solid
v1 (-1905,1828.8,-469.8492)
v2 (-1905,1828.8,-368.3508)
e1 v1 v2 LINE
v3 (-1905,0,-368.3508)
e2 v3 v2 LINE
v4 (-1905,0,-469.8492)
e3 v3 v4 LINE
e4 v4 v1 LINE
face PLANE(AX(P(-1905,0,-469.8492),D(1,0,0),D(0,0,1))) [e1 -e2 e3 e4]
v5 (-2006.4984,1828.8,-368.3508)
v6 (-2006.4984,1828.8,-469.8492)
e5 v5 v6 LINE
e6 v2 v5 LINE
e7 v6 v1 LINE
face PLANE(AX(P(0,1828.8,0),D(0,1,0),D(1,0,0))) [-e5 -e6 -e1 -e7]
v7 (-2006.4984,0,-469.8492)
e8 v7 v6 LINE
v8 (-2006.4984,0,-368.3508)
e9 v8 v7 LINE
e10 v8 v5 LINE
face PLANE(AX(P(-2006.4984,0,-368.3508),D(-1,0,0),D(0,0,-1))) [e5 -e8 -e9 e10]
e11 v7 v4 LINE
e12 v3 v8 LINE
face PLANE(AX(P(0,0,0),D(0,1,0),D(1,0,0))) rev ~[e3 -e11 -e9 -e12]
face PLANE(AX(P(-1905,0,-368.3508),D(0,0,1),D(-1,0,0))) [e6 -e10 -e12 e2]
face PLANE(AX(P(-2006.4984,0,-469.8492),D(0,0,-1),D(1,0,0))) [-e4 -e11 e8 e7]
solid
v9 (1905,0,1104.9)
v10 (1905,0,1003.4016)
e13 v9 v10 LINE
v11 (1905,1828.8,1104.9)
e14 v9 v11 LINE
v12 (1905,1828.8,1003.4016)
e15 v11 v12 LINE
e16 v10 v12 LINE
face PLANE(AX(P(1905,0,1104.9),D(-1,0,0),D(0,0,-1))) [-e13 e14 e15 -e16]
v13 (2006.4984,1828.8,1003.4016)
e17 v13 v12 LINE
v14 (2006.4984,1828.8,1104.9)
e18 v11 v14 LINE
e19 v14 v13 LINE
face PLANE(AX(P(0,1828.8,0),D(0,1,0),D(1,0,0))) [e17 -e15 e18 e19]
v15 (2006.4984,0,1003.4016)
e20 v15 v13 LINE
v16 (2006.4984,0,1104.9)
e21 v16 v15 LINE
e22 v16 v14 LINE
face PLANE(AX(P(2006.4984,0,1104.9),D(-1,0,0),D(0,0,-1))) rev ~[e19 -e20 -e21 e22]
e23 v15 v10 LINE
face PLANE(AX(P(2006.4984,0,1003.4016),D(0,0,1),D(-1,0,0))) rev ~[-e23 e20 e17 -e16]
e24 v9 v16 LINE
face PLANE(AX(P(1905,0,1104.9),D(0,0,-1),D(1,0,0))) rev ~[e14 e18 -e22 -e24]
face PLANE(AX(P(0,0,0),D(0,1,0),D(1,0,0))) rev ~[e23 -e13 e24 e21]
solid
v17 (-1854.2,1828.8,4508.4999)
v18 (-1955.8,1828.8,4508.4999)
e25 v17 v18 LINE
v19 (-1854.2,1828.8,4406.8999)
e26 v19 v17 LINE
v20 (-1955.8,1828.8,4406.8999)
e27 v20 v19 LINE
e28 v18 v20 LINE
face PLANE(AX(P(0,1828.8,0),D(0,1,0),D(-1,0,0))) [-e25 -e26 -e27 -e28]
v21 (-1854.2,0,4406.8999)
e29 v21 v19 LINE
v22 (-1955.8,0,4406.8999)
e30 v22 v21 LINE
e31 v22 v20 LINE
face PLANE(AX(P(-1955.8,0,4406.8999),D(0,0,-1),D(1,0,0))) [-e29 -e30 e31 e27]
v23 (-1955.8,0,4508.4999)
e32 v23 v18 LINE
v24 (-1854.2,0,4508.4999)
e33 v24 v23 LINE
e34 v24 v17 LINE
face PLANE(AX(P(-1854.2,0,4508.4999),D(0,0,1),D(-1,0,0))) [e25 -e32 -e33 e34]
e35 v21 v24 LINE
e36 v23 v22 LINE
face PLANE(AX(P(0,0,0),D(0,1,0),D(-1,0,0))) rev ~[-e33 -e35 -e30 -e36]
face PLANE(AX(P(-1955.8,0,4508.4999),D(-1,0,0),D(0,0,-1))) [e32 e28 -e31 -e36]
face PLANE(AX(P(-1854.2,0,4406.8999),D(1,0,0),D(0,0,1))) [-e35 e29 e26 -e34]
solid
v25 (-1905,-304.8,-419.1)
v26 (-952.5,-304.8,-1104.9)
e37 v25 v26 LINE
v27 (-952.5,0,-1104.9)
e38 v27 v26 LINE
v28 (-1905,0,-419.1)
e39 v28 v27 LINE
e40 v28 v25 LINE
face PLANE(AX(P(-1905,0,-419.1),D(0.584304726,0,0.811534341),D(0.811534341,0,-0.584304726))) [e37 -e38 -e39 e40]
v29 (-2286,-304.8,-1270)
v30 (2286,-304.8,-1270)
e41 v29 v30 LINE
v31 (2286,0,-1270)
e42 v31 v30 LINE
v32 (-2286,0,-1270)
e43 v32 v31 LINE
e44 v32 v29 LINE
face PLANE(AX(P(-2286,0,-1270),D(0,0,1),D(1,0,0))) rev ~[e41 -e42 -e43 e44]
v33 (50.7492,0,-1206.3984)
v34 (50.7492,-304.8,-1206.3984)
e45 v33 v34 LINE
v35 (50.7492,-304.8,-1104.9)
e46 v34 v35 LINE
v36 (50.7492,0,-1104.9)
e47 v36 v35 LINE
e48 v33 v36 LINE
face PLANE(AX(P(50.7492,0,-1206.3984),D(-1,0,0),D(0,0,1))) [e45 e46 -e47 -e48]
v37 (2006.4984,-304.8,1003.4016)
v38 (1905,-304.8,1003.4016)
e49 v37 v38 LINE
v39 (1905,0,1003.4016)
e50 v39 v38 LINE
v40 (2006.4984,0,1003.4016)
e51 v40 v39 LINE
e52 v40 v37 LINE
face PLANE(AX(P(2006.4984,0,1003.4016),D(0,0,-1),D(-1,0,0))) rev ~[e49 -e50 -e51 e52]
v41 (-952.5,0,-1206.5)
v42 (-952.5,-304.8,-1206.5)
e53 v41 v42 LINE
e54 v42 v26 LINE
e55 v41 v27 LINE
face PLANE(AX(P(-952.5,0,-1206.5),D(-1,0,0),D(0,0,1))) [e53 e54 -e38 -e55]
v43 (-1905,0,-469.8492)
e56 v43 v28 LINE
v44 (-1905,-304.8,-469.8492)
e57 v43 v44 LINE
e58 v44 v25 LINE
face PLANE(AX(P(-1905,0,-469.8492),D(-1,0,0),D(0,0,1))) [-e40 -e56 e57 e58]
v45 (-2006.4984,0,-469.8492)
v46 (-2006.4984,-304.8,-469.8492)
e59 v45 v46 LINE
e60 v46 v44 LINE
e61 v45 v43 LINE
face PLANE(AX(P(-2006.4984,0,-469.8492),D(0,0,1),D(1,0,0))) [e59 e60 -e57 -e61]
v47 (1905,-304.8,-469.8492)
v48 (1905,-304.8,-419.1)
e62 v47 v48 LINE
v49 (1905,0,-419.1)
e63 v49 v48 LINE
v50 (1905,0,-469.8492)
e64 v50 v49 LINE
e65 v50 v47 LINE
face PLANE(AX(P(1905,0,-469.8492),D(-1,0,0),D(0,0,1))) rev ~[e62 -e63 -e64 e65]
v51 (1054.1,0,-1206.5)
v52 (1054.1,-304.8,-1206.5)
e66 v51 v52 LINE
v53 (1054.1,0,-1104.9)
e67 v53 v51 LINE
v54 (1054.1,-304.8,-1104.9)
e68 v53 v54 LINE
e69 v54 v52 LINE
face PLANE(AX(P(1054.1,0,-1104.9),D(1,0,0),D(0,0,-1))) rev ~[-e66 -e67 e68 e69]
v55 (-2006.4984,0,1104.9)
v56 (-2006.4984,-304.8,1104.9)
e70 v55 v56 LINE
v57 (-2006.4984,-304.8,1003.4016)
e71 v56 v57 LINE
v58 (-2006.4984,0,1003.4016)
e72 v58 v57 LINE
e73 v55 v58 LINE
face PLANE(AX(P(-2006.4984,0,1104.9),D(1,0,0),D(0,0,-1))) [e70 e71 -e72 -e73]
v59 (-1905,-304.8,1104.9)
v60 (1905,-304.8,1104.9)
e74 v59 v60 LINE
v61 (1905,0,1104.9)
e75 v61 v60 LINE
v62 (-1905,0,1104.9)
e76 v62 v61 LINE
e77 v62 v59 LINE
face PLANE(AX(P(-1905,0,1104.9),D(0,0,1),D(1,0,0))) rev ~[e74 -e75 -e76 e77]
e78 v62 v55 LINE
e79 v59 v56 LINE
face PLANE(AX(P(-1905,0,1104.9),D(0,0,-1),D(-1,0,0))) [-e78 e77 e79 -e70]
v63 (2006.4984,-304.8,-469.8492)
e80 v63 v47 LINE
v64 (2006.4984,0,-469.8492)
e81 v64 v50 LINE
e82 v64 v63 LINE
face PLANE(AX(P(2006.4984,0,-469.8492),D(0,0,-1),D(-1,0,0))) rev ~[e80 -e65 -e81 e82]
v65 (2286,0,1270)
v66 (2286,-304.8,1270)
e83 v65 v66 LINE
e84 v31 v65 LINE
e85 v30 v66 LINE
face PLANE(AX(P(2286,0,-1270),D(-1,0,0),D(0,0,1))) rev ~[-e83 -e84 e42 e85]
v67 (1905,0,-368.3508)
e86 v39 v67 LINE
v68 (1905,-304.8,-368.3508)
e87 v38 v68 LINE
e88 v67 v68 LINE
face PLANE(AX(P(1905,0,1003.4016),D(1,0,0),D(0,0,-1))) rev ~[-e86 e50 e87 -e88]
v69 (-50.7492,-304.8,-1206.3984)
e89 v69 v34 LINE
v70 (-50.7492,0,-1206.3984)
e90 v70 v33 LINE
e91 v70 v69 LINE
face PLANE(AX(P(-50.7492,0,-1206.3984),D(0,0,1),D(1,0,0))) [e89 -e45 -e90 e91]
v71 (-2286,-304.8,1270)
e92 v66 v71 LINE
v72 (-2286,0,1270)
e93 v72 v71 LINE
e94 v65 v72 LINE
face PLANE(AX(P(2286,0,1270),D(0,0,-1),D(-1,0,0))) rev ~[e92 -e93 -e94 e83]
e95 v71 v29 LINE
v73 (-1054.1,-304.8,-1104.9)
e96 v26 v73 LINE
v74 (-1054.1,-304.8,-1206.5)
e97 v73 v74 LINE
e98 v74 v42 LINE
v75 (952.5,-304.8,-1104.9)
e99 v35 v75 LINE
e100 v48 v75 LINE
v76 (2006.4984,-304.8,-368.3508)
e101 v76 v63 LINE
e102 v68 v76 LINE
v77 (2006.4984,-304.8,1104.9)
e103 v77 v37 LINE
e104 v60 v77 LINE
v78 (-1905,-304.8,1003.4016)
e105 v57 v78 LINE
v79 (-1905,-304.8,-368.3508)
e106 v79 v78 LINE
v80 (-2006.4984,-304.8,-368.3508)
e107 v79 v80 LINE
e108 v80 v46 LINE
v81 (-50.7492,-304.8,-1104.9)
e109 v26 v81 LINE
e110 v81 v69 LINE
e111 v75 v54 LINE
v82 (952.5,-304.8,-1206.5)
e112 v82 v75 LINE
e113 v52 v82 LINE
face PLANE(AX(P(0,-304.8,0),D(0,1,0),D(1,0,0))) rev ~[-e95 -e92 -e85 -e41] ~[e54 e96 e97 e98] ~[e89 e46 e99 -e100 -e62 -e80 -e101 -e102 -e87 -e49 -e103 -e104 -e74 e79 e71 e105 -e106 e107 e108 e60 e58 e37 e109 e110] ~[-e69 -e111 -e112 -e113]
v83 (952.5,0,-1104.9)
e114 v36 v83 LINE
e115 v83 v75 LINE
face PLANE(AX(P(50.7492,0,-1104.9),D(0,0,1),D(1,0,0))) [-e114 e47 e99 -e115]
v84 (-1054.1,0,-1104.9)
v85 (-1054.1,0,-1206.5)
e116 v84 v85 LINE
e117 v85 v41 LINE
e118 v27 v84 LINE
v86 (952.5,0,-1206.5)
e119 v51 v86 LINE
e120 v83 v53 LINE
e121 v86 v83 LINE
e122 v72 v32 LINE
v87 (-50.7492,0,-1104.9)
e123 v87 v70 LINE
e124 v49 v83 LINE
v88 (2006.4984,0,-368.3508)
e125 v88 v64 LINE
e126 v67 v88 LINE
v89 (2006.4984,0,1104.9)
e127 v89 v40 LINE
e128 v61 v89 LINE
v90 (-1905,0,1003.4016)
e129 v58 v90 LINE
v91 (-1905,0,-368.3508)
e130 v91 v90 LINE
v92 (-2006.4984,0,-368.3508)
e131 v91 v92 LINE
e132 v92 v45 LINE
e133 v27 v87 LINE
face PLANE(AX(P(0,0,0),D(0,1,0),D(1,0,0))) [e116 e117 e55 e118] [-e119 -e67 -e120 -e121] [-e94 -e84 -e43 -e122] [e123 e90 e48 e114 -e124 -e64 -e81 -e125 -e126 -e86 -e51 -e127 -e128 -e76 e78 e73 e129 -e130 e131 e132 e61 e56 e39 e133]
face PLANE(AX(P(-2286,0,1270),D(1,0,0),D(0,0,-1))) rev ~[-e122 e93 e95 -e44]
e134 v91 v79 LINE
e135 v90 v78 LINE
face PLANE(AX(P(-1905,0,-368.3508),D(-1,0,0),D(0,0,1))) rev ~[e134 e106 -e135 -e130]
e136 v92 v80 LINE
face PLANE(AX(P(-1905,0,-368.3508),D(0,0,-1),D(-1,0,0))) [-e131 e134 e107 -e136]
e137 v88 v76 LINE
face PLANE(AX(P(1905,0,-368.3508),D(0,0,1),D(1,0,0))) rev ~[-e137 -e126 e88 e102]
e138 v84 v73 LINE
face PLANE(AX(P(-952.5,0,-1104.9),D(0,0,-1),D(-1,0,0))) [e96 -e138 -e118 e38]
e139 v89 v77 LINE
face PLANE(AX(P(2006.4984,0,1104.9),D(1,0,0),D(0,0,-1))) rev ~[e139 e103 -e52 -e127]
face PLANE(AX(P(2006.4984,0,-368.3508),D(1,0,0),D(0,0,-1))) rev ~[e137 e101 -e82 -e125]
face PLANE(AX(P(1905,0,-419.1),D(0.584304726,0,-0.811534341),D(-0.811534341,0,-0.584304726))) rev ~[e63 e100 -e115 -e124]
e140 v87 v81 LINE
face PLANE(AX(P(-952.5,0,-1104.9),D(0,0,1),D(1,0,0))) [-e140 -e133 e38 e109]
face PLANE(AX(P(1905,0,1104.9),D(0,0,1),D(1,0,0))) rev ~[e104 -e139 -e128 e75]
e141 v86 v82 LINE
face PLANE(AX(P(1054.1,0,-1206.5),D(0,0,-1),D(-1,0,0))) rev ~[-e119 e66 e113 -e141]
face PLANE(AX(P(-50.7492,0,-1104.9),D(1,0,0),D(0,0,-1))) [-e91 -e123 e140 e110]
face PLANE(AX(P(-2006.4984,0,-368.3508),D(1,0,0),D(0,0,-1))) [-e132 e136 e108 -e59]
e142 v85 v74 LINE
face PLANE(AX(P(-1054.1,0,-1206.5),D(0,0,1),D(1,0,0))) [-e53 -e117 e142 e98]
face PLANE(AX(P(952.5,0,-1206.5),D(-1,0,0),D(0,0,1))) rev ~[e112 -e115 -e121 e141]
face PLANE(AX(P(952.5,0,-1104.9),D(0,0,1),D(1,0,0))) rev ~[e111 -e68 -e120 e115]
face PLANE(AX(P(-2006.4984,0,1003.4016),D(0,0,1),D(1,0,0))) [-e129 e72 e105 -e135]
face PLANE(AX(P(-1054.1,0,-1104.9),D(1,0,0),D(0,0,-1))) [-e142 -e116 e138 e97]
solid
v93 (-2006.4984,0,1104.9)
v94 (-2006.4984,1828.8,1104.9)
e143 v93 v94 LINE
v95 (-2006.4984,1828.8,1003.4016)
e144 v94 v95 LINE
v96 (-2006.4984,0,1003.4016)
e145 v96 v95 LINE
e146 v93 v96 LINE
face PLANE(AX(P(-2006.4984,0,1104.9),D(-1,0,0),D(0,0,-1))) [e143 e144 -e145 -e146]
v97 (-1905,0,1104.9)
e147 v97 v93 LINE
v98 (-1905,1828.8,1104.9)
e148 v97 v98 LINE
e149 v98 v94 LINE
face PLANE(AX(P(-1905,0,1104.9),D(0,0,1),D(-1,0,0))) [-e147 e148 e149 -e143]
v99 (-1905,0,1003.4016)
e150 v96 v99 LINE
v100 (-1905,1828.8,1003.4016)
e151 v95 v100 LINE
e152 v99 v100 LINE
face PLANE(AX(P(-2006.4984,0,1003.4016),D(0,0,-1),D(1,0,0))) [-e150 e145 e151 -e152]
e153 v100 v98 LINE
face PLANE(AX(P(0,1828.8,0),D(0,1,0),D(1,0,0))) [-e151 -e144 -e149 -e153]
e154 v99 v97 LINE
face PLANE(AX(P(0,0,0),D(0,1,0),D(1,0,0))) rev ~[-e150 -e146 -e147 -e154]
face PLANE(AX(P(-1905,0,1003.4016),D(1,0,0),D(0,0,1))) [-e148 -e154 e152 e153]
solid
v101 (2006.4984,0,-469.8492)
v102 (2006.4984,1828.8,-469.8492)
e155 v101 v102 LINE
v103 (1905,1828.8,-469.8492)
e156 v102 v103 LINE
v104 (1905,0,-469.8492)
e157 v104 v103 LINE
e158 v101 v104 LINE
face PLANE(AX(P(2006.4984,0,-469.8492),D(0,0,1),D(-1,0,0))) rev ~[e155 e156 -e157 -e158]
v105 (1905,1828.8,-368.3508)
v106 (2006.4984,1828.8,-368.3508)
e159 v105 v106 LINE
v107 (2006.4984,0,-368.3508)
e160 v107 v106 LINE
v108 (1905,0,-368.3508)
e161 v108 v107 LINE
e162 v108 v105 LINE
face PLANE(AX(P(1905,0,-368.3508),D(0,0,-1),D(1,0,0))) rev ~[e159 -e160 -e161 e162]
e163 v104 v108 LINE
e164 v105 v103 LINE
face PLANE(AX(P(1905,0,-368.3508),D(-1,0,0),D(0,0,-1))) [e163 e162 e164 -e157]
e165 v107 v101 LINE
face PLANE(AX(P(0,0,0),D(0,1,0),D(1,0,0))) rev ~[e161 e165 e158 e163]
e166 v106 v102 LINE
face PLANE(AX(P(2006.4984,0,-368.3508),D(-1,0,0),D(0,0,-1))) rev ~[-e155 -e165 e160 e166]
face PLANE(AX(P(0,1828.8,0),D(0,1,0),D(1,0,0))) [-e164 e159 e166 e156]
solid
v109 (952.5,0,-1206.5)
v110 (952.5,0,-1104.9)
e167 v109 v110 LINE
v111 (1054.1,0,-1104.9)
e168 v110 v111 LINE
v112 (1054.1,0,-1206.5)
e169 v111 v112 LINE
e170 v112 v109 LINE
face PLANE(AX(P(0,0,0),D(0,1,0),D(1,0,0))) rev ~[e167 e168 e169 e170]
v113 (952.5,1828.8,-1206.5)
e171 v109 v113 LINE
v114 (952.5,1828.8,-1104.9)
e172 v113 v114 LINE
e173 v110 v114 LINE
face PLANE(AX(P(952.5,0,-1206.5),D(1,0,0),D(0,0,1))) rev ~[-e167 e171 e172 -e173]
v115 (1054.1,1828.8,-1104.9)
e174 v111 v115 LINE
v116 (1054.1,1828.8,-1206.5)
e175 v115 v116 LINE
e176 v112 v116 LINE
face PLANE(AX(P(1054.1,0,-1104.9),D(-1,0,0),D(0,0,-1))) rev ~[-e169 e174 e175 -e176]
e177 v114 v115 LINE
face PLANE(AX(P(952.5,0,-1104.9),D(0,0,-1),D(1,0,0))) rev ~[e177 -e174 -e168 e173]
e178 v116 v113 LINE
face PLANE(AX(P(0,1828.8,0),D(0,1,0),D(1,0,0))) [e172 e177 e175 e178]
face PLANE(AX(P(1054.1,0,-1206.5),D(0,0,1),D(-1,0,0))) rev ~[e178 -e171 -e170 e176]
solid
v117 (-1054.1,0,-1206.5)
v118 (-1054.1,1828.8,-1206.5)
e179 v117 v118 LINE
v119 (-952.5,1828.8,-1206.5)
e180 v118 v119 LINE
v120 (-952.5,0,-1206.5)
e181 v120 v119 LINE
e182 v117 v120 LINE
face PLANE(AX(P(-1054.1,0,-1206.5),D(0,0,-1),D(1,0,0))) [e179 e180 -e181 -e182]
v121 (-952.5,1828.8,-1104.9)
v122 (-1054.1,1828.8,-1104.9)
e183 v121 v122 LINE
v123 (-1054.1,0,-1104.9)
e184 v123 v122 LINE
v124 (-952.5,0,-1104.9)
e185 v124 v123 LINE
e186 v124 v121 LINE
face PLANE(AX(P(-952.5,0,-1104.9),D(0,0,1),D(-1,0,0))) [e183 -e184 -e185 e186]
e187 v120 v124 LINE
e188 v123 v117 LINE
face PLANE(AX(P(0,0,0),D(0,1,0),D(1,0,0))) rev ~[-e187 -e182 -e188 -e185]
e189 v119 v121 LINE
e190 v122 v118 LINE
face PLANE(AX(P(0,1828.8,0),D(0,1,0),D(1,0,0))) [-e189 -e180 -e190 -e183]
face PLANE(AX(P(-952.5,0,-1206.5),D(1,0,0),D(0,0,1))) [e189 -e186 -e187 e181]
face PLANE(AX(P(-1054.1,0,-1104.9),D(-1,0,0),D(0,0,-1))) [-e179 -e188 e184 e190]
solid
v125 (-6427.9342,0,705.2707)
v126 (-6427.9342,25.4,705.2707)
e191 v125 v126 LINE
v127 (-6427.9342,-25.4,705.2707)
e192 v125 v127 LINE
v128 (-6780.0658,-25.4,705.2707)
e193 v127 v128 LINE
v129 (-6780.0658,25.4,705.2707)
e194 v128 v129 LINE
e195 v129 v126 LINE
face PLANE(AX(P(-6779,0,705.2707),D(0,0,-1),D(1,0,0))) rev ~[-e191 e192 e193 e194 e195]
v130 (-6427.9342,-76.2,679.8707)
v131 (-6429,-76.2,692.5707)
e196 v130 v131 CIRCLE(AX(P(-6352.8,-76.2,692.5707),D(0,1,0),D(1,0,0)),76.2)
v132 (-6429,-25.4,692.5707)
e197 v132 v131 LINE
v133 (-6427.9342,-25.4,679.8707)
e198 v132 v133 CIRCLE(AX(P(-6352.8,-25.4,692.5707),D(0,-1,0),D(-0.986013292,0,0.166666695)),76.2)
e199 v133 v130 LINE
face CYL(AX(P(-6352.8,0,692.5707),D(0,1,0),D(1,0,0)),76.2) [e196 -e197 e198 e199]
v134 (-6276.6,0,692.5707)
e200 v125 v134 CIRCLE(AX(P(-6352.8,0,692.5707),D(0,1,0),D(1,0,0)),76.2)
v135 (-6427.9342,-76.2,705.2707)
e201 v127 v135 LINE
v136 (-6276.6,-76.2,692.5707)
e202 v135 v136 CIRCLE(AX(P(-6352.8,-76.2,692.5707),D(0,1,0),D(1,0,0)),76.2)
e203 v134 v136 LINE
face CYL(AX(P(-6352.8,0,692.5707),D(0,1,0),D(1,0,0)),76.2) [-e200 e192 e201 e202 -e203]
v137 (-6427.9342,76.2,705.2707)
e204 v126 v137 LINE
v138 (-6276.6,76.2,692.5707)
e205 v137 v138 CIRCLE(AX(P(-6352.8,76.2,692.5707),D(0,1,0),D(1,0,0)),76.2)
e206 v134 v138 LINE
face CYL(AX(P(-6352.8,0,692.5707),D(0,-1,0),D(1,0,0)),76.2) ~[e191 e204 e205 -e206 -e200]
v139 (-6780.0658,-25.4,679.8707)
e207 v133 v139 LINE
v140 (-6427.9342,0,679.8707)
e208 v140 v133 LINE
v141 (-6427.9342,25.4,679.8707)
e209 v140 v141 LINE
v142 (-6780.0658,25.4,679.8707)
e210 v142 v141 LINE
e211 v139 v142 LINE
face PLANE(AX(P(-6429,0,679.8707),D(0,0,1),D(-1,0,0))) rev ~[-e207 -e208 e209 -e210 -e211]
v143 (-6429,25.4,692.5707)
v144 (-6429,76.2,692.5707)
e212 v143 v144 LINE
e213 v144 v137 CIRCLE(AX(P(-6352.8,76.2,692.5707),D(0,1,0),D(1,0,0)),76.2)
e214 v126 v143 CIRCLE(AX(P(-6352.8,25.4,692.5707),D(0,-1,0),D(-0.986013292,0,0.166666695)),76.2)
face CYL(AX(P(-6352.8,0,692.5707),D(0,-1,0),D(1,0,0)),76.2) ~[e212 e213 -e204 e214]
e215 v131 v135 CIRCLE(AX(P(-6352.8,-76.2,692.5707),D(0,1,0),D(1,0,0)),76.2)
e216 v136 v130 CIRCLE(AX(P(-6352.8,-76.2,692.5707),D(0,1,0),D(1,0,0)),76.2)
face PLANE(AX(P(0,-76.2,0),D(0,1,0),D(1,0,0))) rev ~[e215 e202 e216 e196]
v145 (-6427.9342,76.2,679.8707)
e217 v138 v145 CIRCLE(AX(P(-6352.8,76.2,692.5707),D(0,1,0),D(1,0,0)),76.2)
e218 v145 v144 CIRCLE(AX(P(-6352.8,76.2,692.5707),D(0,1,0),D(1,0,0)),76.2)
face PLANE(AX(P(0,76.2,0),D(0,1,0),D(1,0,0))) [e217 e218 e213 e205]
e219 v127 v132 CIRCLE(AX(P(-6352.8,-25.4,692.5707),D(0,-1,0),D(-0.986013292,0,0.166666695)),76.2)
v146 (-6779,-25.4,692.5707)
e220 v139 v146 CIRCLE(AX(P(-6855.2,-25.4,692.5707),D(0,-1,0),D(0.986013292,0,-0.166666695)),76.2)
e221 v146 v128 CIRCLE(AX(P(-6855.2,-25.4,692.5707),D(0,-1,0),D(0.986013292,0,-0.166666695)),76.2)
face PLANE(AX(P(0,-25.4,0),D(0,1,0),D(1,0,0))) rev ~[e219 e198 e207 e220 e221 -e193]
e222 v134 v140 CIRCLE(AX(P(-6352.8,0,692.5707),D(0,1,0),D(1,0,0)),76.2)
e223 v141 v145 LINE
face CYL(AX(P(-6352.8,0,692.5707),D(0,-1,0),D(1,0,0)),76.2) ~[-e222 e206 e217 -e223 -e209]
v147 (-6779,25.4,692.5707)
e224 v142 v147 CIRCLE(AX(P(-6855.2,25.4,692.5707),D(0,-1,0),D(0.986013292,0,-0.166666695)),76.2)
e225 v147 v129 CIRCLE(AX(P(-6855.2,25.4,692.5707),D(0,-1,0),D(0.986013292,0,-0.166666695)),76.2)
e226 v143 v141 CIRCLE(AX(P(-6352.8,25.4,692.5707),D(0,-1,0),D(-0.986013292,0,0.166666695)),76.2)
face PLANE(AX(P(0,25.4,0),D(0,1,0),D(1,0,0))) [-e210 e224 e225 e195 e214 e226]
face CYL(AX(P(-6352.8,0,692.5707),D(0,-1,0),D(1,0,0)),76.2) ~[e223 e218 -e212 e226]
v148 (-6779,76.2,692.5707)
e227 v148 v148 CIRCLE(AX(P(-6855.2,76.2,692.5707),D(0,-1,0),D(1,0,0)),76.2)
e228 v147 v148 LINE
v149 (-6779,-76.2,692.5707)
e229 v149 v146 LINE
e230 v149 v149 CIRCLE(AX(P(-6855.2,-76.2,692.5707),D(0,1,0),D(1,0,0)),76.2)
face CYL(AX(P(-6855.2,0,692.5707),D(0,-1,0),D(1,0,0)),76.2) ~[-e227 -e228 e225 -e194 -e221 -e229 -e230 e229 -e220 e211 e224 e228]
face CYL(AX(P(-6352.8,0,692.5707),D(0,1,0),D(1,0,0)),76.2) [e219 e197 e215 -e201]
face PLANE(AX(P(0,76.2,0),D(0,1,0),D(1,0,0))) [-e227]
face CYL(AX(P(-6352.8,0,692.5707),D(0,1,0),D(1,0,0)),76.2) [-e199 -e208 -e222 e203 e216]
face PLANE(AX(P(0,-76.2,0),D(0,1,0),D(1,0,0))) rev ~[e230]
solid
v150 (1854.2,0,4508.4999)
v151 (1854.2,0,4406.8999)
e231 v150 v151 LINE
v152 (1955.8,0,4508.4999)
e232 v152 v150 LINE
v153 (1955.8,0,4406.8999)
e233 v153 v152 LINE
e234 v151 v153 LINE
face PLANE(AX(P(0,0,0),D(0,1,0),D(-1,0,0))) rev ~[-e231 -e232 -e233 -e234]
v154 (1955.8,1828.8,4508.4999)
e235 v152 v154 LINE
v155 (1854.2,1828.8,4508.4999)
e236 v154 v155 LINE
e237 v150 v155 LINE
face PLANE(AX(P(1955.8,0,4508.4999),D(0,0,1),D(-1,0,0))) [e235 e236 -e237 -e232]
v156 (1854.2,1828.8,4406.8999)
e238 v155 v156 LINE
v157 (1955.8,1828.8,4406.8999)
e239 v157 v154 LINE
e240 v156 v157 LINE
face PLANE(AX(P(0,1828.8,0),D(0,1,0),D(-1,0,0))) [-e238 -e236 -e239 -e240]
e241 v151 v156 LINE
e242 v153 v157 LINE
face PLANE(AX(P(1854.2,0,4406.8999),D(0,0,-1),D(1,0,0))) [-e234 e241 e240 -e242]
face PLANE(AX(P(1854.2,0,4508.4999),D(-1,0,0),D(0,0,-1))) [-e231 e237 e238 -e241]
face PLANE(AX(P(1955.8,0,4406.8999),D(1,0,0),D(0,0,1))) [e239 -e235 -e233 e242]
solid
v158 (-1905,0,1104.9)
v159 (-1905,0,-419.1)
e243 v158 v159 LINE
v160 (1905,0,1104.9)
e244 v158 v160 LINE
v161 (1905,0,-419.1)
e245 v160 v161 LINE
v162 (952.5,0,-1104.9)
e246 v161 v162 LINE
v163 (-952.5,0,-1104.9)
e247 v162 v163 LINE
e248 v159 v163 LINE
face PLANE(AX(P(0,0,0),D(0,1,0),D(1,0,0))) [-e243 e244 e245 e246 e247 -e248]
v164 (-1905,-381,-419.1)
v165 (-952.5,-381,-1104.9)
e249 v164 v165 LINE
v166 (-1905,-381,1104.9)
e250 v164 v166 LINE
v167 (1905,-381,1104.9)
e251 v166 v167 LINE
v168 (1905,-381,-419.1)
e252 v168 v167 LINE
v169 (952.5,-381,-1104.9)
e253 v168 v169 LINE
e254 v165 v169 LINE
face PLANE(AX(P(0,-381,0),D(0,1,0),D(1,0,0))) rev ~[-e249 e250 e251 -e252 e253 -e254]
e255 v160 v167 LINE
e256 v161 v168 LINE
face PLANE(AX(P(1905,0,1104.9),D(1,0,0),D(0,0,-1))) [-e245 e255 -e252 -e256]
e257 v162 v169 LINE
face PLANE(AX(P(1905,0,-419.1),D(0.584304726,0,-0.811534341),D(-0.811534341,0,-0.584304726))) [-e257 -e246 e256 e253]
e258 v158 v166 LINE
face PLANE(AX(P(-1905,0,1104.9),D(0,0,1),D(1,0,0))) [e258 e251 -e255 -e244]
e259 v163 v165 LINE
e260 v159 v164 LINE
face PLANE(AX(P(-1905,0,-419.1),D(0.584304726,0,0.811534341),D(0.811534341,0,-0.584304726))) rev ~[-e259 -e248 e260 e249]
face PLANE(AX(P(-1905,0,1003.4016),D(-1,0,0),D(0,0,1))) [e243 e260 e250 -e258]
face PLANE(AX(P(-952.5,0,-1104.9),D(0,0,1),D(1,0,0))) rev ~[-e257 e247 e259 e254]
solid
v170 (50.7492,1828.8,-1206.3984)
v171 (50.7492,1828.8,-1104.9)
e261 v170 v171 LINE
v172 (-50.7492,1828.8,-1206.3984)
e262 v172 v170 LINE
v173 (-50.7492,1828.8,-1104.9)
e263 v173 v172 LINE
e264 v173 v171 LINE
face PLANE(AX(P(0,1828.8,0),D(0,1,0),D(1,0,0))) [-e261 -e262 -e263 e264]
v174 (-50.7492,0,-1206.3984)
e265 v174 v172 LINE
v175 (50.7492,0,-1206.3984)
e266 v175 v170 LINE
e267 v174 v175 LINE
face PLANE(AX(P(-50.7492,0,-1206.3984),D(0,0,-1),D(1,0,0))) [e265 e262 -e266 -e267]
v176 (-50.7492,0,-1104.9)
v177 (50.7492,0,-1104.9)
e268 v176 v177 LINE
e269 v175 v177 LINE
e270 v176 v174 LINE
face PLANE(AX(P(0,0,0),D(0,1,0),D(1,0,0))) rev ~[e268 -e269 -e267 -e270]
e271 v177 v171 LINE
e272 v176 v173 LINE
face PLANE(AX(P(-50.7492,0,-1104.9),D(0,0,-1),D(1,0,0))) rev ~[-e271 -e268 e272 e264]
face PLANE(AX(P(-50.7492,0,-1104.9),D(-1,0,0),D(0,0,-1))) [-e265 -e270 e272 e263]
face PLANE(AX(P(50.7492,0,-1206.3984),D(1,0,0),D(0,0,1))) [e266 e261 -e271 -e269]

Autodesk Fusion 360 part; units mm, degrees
sketch "Sketch1" plane through (0, 0, 0) normal (0, 1, 0) x (1, 0, 0)
  line L0 (0, 1104.9) -> (0, -342.9) construction
  line L1 (-1905, 1104.9) -> (1905, 1104.9) construction
  line L2 (-1905, -1104.9) -> (1905, -1104.9)
  line L3 (1905, -1104.9) -> (-1905, 1104.9) construction
  line L4 (-1905, -1104.9) -> (-1905, 1104.9) construction
  line L5 (0, -342.9) -> (0, 419.1) construction
  line L6 (0, 1104.9) -> (0, -342.9) construction
  line L7 (-1905, 419.1) -> (-952.5, 1104.9)
  line L8 (-1905, -342.9) -> (-1905, 1104.9) construction
  line L9 (-1905, 419.1) -> (-1905, -1104.9)
  line L10 (1905, 1104.9) -> (1905, -1104.9) construction
  line L11 (-1905, 1104.9) -> (0, 1104.9) construction
  line L12 (1905, -342.9) -> (1905, 1104.9) construction
  line L13 (1905, -342.9) -> (1905, 419.1) construction
  line L14 (0, -342.9) -> (1905, -342.9) construction
  line L15 (1905, 1104.9) -> (0, 1104.9) construction
  line L16 (1905, 419.1) -> (952.5, 1104.9) construction
  line L17 (-952.5, 1104.9) -> (952.5, 1104.9)
  line L18 (0, 1104.9) -> (0, -342.9) construction
  line L19 (1905, 419.1) -> (-1905, 419.1)
  line L20 (1905, -1104.9) -> (1905, 419.1)
  line L21 (-1905, -1104.9) -> (1905, 1104.9) construction
  line L22 (1905, -1104.9) -> (-1905, -1104.9) construction
  line L23 (0, -342.9) -> (-1905, -342.9) construction
  line L24 (1905, 419.1) -> (952.5, 1104.9)
  line L25 (1905, 419.1) -> (0, 419.1) construction
  line L26 (50.7492, 1206.3984) -> (50.7492, 1104.9)
  line L27 (952.5, 1104.9) -> (-952.5, 1104.9)
  line L28 (-1905, -1104.9) -> (1905, -1104.9)
  line L29 (-1905, -1104.9) -> (-2006.4984, -1104.9)
  line L30 (-2006.4984, 368.3508) -> (-2006.4984, 469.8492)
  line L31 (-1905, -1003.4016) -> (-1905, -1104.9)
  line L32 (952.5, 1104.9) -> (1054.1, 1104.9)
  line L33 (1054.1, 1206.5) -> (952.5, 1206.5)
  line L34 (1905, 419.1) -> (952.5, 1104.9)
  line L35 (0, 1104.9) -> (0, -1104.9) construction
  line L36 (1905, -1104.9) -> (2006.4984, -1104.9)
  line L37 (-1905, 368.3508) -> (-2006.4984, 469.8492) construction
  line L38 (-952.5, 1206.5) -> (-952.5, 1104.9)
  line L39 (50.7492, 1104.9) -> (-50.7492, 1206.3984) construction
  line L40 (-1905, 419.1) -> (-1955.7492, 419.1) construction
  line L41 (2006.4984, 368.3508) -> (1905, 469.8492) construction
  line L42 (0, 1104.9) -> (0, 1155.6492) construction
  line L43 (-1905, 419.1) -> (-1905, -1104.9)
  line L44 (-50.7492, 1104.9) -> (50.7492, 1206.3984) construction
  line L45 (-2006.4984, 469.8492) -> (-1905, 469.8492)
  line L46 (-50.7492, 1206.3984) -> (50.7492, 1206.3984)
  line L47 (-2006.4984, -1104.9) -> (-2006.4984, -1003.4016)
  line L48 (1905, -1003.4016) -> (1905, -1104.9)
  line L49 (-952.5, 1104.9) -> (-1905, 419.1)
  line L50 (-50.7492, 1104.9) -> (-50.7492, 1206.3984)
  line L51 (2006.4984, -1003.4016) -> (1905, -1003.4016)
  line L52 (-2006.4984, -1003.4016) -> (-1905, -1003.4016)
  line L53 (50.7492, 1104.9) -> (-50.7492, 1104.9)
  line L54 (1054.1, 1104.9) -> (1054.1, 1206.5)
  line L55 (-1905, 368.3508) -> (-2006.4984, 368.3508)
  line L56 (-1054.1, 1206.5) -> (-952.5, 1206.5)
  line L57 (2006.4984, -1104.9) -> (2006.4984, -1003.4016)
  line L58 (1905, 368.3508) -> (2006.4984, 469.8492) construction
  line L59 (-1054.1, 1104.9) -> (-1054.1, 1206.5)
  line L60 (1905, 419.1) -> (1955.7492, 419.1) construction
  line L61 (-1905, 469.8492) -> (-1905, 368.3508)
  line L62 (2006.4984, 469.8492) -> (1905, 469.8492)
  line L63 (1905, 469.8492) -> (1905, 368.3508)
  line L64 (-2006.4984, 368.3508) -> (-1905, 469.8492) construction
  line L65 (1905, 368.3508) -> (2006.4984, 368.3508)
  line L66 (-952.5, 1104.9) -> (-1054.1, 1104.9)
  line L67 (2006.4984, 368.3508) -> (2006.4984, 469.8492)
  line L68 (952.5, 1206.5) -> (952.5, 1104.9)
  line L69 (1905, -1104.9) -> (1905, 419.1)
  line L70 (2286, -1270) -> (-2286, -1270)
  line L71 (-2286, -1270) -> (-2286, 1270)
  line L72 (-2286, 1270) -> (2286, 1270)
  line L73 (2286, 1270) -> (2286, -1270)
  line L74 (2286, -1270) -> (-2286, 1270) construction
  line L75 (-2286, -1270) -> (2286, 1270) construction
  point P0 (-1955.7492, 419.1)
  point P1 (0, 1155.6492)
  point P2 (952.5, 1104.9)
  point P3 (1905, 419.1)
  point P4 (1905, -1104.9)
  point P5 (1955.7492, 419.1)
  dimension "d1" = 3810
  dimension "d2" = 2209.8
  dimension "d3" = 1447.8
  dimension "d4" = 762
  dimension "d5" = 762
  dimension "d8" = 101.6
  dimension "d9" = 101.6
  dimension "d10" = 50.7492
  dimension "d11" = 101.4984
  dimension "d12" = 101.4984
  dimension "d13" = 50.7492
  dimension "d14" = 101.4984
  dimension "d15" = 101.4984
  dimension "d16" = 101.4984
  dimension "d17" = 101.4984
extrude "Extrude1" add sketch "Sketch1" along normal blind 1828.8 contours L9 L29 L31 L43 L47 L52 | L38 L56 L59 L66 | L32 L33 L54 L68 | L20 L36 L48 L51 L57 L69 | L9 L30 L43 L45 L55 L61 | L20 L62 L63 L65 L67 L69 | L17 L26 L27 L46 L50 L53 makes body 1 at (952.5, 609.6, -1172.6333) makes body 2 at (-986.3667, 609.6, -1104.9) makes body 3 at (-50.7492, 609.6, -1138.7328) makes body 4 at (1972.6656, 609.6, -469.8492) makes body 5 at (-1938.8328, 609.6, -368.3508) makes body 6 at (-1938.8328, 609.6, 1104.9) makes body 7 at (1905, 1219.2, 1071.0672)
extrude "Extrude2" add sketch "Sketch1" against normal blind 304.8 separate body makes body 8
extrude "Extrude3" add sketch "Sketch1" against normal blind 381 separate body contours L2 L9 L19 L20 L28 L31 L43 L48 L61 L63 L69 | L7 L17 L19 L24 L27 L34 L49 L53 makes body 9
ref_plane "WorkPlane1" through (0, 1828.8, 0) normal (0, 1, 0) x (0, 0, 1)
sketch "Sketch3" plane through (0, 1828.8, 0) normal (0, 1, 0) x (1, 0, 0)
  line L0 (-1905, 419.1) -> (-1905, -1104.9) construction
  line L1 (0, 1104.9) -> (0, -1104.9) construction
  line L2 (1905, -1104.9) -> (1905, 419.1) construction
  line L3 (952.5, 1104.9) -> (-952.5, 1104.9) construction
  line L4 (-1115.3442, 97.5223) -> (-1828.8, -4457.6999)
  line L5 (-1905, -1104.9) -> (1905, -1104.9) construction
  line L6 (831.349, -64.1091) -> (1469.5957, -4515.3092)
  line L7 (1905, 419.1) -> (952.5, 1104.9) construction
  line L8 (-952.5, 1104.9) -> (-1905, 419.1) construction
  line L9 (50.7492, 1104.9) -> (50.7492, 1206.3984)
  line L10 (50.7492, 1206.3984) -> (-50.7492, 1206.3984)
  line L11 (-50.7492, 1206.3984) -> (-50.7492, 1104.9)
  line L12 (-50.7492, 1104.9) -> (50.7492, 1104.9)
  line L13 (-1905, 469.8492) -> (-2006.4984, 469.8492)
  line L14 (-2006.4984, 469.8492) -> (-2006.4984, 368.3508)
  line L15 (-2006.4984, 368.3508) -> (-1905, 368.3508)
  line L16 (-1905, 368.3508) -> (-1905, 469.8492)
  line L17 (1905, 368.3508) -> (2006.4984, 368.3508)
  line L18 (2006.4984, 368.3508) -> (2006.4984, 469.8492)
  line L19 (2006.4984, 469.8492) -> (1905, 469.8492)
  line L20 (1905, 469.8492) -> (1905, 368.3508)
  line L21 (831.349, -64.1091) -> (820.5335, 11.3194) construction
  circle A0 centre (825.9413, -26.3949) radius 38.1
  line L22 (-1115.3442, 97.5223) -> (-1115.3442, 173.7223) construction
  circle A1 centre (-1115.3442, 135.6223) radius 38.1
  line L23 (-1153.3891, 137.6712) -> (-1905, 368.3508)
  line L24 (-1115.3442, 173.7223) -> (-50.7492, 1104.9)
  line L25 (812.5209, 9.2633) -> (50.7492, 1104.9)
  line L26 (788.4457, -33.1542) -> (1905, 368.3508)
  point P0 (0, 419.1)
  dimension "d37" = 76.2
  dimension "d38" = 76.2
ref_plane "WorkPlane3" through (0, 1524, 0) normal (0, 1, 0) x (0, 0, 1)
sketch "Sketch4" plane through (0, 1524, 0) normal (0, 1, 0) x (1, 0, 0)
  line L0 (0, 1143) -> (0, -1778) construction
  line L1 (0, -1778) -> (0, 0) construction
  line L2 (175, -876.3) -> (-175, -876.3)
  line L3 (-175, -876.3) -> (-175, -901.7)
  line L4 (-175, -901.7) -> (175, -901.7)
  line L5 (175, -901.7) -> (175, -876.3)
  line L6 (175, -876.3) -> (-175, -901.7) construction
  line L7 (-175, -876.3) -> (175, -901.7) construction
  line L8 (-175, -889) -> (-251.2, -889) construction
  line L9 (175, -889) -> (251.2, -889) construction
  circle A0 centre (251.2, -889) radius 76.2
  circle A1 centre (-251.2, -889) radius 76.2
  line L10 (-1828.8, -4457.6999) -> (-256.5809, -965.0098)
  line L11 (-952.5, 1104.9) -> (-952.5, 1206.5)
  line L12 (-952.5, 1206.5) -> (-1054.1, 1206.5)
  line L13 (-1054.1, 1206.5) -> (-1054.1, 1104.9)
  line L14 (-1054.1, 1104.9) -> (-952.5, 1104.9)
  line L15 (952.5, 1206.5) -> (952.5, 1104.9)
  line L16 (952.5, 1104.9) -> (1054.1, 1104.9)
  line L17 (1054.1, 1104.9) -> (1054.1, 1206.5)
  line L18 (1054.1, 1206.5) -> (952.5, 1206.5)
  line L19 (-256.5809, -965.0098) -> (-256.5809, -812.9902) construction
  line L20 (255.2053, -965.0946) -> (255.2053, -812.9053) construction
  line L21 (-952.5, 1104.9) -> (-256.5809, -812.9902)
  line L22 (952.5, 1104.9) -> (255.2053, -812.9053)
  line L23 (255.2053, -965.0946) -> (1469.5957, -4515.3092)
  line L24 (-175, -901.7) -> (-176.0658, -901.7)
  line L25 (-175, -876.3) -> (-176.0658, -876.3)
  line L26 (175, -876.3) -> (176.0658, -876.3)
  line L27 (175, -901.7) -> (176.0658, -901.7)
  point P0 (0, -889)
  point P1 (-1828.8, -4457.6999)
  point P2 (1469.5957, -4515.3092)
  dimension "d27" = 350
  dimension "d28" = 25.4
  dimension "d29" = 76.2
  dimension "d30" = 76.2
sketch "Sketch5" plane through (0, 0, 0) normal (0, 1, 0) x (-1, 0, 0)
  line L0 (-1054.1, -1104.9) -> (-952.5, -1104.9)
  line L1 (-952.5, -1104.9) -> (-1905, -419.1)
  line L2 (-1905, -419.1) -> (-1905, -469.8492)
  line L3 (-1905, -469.8492) -> (-2006.4984, -469.8492)
  line L4 (-2006.4984, -469.8492) -> (-2006.4984, -368.3508)
  line L5 (-2006.4984, -368.3508) -> (-1905, -368.3508)
  line L6 (-1905, -368.3508) -> (-1905, 1003.4016)
  line L7 (-1905, 1003.4016) -> (-2006.4984, 1003.4016)
  line L8 (-2006.4984, 1003.4016) -> (-2006.4984, 1104.9)
  line L9 (-2006.4984, 1104.9) -> (2006.4984, 1104.9)
  line L10 (2006.4984, 1104.9) -> (2006.4984, 1003.4016)
  line L11 (2006.4984, 1003.4016) -> (1905, 1003.4016)
  line L12 (1905, 1003.4016) -> (1905, -368.3508)
  line L13 (1905, -368.3508) -> (2006.4984, -368.3508)
  line L14 (2006.4984, -368.3508) -> (2006.4984, -469.8492)
  line L15 (2006.4984, -469.8492) -> (1905, -469.8492)
  line L16 (1905, -469.8492) -> (1905, -419.1)
  line L17 (1905, -419.1) -> (952.5, -1104.9)
  line L18 (952.5, -1104.9) -> (1054.1, -1104.9)
  line L19 (1054.1, -1104.9) -> (1054.1, -1206.5)
  line L20 (1054.1, -1206.5) -> (952.5, -1206.5)
  line L21 (952.5, -1206.5) -> (952.5, -1104.9)
  line L22 (952.5, -1104.9) -> (50.7492, -1104.9)
  line L23 (50.7492, -1104.9) -> (50.7492, -1206.3984)
  line L24 (50.7492, -1206.3984) -> (-50.7492, -1206.3984)
  line L25 (-50.7492, -1206.3984) -> (-50.7492, -1104.9)
  line L26 (-50.7492, -1104.9) -> (-952.5, -1104.9)
  line L27 (-952.5, -1104.9) -> (-952.5, -1206.5)
  line L28 (-952.5, -1206.5) -> (-1054.1, -1206.5)
  line L29 (-1054.1, -1206.5) -> (-1054.1, -1104.9)
  line L30 (-2286, -1270) -> (2286, -1270)
  line L31 (2286, -1270) -> (2286, 1270)
  line L32 (2286, 1270) -> (-2286, 1270)
  line L33 (-2286, 1270) -> (-2286, -1270)
  line L34 (1905, 1104.9) -> (1905, 4457.6999) construction
  line L35 (-1905, 1104.9) -> (-1905, 4457.6999) construction
  line L36 (-1905, 4457.6999) -> (1905, 4457.6999) construction
  line L37 (1854.2, 4508.4999) -> (1955.8, 4508.4999)
  line L38 (1955.8, 4508.4999) -> (1955.8, 4406.8999)
  line L39 (1955.8, 4406.8999) -> (1854.2, 4406.8999)
  line L40 (1854.2, 4406.8999) -> (1854.2, 4508.4999)
  line L41 (1854.2, 4508.4999) -> (1955.8, 4406.8999) construction
  line L42 (1955.8, 4508.4999) -> (1854.2, 4406.8999) construction
  line L43 (-1955.8, 4508.4999) -> (-1854.2, 4508.4999)
  line L44 (-1854.2, 4508.4999) -> (-1854.2, 4406.8999)
  line L45 (-1854.2, 4406.8999) -> (-1955.8, 4406.8999)
  line L46 (-1955.8, 4406.8999) -> (-1955.8, 4508.4999)
  line L47 (-1955.8, 4508.4999) -> (-1854.2, 4406.8999) construction
  line L48 (-1854.2, 4508.4999) -> (-1955.8, 4406.8999) construction
  point P0 (1828.8, 4457.6999)
  point P1 (-1469.5957, 4515.3092)
  point P2 (1905, 4457.6999)
  point P3 (-1905, 4457.6999)
  dimension "d31" = 101.6
  dimension "d32" = 101.6
  dimension "d33" = 101.6
  dimension "d34" = 101.6
extrude "Extrude4" add sketch "Sketch5" along normal blind 1828.8 separate body contours L37 L38 L39 L40 | L43 L44 L45 L46 makes body 10 at (-1888.0667, 609.6, 4508.4999) makes body 11 at (1921.9333, 609.6, 4508.4999)
sketch "Sketch6" plane through (0, 0, 0) normal (0, 1, 0) x (1, 0, 0)
  line L0 (-6779, -705.2707) -> (-6780.0658, -705.2707)
  line L1 (-6429, -679.8707) -> (-6427.9342, -679.8707)
  line L2 (-6779, -679.8707) -> (-6429, -705.2707) construction
  circle A0 centre (-6855.2, -692.5707) radius 76.2
  line L3 (-6779, -705.2707) -> (-6429, -705.2707)
  line L4 (-6855.2, -768.7707) -> (-6855.2, -616.3707) construction
  circle A1 centre (-6352.8, -692.5707) radius 76.2
  line L5 (-6779, -679.8707) -> (-6780.0658, -679.8707)
  line L6 (-6429, -705.2707) -> (-6427.9342, -705.2707)
  line L7 (-6429, -705.2707) -> (-6429, -679.8707)
  line L8 (-6352.8, -768.7707) -> (-6352.8, -616.3707) construction
  line L9 (-6779, -692.5707) -> (-6855.2, -692.5707) construction
  line L10 (-6429, -679.8707) -> (-6779, -679.8707)
  line L11 (-6429, -692.5707) -> (-6352.8, -692.5707) construction
  line L12 (-6779, -679.8707) -> (-6779, -705.2707)
  line L13 (-6429, -679.8707) -> (-6779, -705.2707) construction
  point P0 (-6604, -692.5707)
  dimension "d39" = 350
  dimension "d40" = 25.4
  dimension "d41" = 76.2
  dimension "d42" = 76.2
extrude "Extrude5" add sketch "Sketch6" along normal mid plane 152.4 separate body contours A0 | A1 makes body 12 at (-6868.432, -25.4, 767.6131) makes body 13 at (-6331.4073, 76.2, 674.1041)
extrude "Extrude6" add sketch "Sketch6" along normal mid plane 50.8 contours L3 L7 L10 L12 | L0 A0 L12 | A1 L6 L7 | A0 L5 L12 | L1 A1 L7 bodies 12 13
